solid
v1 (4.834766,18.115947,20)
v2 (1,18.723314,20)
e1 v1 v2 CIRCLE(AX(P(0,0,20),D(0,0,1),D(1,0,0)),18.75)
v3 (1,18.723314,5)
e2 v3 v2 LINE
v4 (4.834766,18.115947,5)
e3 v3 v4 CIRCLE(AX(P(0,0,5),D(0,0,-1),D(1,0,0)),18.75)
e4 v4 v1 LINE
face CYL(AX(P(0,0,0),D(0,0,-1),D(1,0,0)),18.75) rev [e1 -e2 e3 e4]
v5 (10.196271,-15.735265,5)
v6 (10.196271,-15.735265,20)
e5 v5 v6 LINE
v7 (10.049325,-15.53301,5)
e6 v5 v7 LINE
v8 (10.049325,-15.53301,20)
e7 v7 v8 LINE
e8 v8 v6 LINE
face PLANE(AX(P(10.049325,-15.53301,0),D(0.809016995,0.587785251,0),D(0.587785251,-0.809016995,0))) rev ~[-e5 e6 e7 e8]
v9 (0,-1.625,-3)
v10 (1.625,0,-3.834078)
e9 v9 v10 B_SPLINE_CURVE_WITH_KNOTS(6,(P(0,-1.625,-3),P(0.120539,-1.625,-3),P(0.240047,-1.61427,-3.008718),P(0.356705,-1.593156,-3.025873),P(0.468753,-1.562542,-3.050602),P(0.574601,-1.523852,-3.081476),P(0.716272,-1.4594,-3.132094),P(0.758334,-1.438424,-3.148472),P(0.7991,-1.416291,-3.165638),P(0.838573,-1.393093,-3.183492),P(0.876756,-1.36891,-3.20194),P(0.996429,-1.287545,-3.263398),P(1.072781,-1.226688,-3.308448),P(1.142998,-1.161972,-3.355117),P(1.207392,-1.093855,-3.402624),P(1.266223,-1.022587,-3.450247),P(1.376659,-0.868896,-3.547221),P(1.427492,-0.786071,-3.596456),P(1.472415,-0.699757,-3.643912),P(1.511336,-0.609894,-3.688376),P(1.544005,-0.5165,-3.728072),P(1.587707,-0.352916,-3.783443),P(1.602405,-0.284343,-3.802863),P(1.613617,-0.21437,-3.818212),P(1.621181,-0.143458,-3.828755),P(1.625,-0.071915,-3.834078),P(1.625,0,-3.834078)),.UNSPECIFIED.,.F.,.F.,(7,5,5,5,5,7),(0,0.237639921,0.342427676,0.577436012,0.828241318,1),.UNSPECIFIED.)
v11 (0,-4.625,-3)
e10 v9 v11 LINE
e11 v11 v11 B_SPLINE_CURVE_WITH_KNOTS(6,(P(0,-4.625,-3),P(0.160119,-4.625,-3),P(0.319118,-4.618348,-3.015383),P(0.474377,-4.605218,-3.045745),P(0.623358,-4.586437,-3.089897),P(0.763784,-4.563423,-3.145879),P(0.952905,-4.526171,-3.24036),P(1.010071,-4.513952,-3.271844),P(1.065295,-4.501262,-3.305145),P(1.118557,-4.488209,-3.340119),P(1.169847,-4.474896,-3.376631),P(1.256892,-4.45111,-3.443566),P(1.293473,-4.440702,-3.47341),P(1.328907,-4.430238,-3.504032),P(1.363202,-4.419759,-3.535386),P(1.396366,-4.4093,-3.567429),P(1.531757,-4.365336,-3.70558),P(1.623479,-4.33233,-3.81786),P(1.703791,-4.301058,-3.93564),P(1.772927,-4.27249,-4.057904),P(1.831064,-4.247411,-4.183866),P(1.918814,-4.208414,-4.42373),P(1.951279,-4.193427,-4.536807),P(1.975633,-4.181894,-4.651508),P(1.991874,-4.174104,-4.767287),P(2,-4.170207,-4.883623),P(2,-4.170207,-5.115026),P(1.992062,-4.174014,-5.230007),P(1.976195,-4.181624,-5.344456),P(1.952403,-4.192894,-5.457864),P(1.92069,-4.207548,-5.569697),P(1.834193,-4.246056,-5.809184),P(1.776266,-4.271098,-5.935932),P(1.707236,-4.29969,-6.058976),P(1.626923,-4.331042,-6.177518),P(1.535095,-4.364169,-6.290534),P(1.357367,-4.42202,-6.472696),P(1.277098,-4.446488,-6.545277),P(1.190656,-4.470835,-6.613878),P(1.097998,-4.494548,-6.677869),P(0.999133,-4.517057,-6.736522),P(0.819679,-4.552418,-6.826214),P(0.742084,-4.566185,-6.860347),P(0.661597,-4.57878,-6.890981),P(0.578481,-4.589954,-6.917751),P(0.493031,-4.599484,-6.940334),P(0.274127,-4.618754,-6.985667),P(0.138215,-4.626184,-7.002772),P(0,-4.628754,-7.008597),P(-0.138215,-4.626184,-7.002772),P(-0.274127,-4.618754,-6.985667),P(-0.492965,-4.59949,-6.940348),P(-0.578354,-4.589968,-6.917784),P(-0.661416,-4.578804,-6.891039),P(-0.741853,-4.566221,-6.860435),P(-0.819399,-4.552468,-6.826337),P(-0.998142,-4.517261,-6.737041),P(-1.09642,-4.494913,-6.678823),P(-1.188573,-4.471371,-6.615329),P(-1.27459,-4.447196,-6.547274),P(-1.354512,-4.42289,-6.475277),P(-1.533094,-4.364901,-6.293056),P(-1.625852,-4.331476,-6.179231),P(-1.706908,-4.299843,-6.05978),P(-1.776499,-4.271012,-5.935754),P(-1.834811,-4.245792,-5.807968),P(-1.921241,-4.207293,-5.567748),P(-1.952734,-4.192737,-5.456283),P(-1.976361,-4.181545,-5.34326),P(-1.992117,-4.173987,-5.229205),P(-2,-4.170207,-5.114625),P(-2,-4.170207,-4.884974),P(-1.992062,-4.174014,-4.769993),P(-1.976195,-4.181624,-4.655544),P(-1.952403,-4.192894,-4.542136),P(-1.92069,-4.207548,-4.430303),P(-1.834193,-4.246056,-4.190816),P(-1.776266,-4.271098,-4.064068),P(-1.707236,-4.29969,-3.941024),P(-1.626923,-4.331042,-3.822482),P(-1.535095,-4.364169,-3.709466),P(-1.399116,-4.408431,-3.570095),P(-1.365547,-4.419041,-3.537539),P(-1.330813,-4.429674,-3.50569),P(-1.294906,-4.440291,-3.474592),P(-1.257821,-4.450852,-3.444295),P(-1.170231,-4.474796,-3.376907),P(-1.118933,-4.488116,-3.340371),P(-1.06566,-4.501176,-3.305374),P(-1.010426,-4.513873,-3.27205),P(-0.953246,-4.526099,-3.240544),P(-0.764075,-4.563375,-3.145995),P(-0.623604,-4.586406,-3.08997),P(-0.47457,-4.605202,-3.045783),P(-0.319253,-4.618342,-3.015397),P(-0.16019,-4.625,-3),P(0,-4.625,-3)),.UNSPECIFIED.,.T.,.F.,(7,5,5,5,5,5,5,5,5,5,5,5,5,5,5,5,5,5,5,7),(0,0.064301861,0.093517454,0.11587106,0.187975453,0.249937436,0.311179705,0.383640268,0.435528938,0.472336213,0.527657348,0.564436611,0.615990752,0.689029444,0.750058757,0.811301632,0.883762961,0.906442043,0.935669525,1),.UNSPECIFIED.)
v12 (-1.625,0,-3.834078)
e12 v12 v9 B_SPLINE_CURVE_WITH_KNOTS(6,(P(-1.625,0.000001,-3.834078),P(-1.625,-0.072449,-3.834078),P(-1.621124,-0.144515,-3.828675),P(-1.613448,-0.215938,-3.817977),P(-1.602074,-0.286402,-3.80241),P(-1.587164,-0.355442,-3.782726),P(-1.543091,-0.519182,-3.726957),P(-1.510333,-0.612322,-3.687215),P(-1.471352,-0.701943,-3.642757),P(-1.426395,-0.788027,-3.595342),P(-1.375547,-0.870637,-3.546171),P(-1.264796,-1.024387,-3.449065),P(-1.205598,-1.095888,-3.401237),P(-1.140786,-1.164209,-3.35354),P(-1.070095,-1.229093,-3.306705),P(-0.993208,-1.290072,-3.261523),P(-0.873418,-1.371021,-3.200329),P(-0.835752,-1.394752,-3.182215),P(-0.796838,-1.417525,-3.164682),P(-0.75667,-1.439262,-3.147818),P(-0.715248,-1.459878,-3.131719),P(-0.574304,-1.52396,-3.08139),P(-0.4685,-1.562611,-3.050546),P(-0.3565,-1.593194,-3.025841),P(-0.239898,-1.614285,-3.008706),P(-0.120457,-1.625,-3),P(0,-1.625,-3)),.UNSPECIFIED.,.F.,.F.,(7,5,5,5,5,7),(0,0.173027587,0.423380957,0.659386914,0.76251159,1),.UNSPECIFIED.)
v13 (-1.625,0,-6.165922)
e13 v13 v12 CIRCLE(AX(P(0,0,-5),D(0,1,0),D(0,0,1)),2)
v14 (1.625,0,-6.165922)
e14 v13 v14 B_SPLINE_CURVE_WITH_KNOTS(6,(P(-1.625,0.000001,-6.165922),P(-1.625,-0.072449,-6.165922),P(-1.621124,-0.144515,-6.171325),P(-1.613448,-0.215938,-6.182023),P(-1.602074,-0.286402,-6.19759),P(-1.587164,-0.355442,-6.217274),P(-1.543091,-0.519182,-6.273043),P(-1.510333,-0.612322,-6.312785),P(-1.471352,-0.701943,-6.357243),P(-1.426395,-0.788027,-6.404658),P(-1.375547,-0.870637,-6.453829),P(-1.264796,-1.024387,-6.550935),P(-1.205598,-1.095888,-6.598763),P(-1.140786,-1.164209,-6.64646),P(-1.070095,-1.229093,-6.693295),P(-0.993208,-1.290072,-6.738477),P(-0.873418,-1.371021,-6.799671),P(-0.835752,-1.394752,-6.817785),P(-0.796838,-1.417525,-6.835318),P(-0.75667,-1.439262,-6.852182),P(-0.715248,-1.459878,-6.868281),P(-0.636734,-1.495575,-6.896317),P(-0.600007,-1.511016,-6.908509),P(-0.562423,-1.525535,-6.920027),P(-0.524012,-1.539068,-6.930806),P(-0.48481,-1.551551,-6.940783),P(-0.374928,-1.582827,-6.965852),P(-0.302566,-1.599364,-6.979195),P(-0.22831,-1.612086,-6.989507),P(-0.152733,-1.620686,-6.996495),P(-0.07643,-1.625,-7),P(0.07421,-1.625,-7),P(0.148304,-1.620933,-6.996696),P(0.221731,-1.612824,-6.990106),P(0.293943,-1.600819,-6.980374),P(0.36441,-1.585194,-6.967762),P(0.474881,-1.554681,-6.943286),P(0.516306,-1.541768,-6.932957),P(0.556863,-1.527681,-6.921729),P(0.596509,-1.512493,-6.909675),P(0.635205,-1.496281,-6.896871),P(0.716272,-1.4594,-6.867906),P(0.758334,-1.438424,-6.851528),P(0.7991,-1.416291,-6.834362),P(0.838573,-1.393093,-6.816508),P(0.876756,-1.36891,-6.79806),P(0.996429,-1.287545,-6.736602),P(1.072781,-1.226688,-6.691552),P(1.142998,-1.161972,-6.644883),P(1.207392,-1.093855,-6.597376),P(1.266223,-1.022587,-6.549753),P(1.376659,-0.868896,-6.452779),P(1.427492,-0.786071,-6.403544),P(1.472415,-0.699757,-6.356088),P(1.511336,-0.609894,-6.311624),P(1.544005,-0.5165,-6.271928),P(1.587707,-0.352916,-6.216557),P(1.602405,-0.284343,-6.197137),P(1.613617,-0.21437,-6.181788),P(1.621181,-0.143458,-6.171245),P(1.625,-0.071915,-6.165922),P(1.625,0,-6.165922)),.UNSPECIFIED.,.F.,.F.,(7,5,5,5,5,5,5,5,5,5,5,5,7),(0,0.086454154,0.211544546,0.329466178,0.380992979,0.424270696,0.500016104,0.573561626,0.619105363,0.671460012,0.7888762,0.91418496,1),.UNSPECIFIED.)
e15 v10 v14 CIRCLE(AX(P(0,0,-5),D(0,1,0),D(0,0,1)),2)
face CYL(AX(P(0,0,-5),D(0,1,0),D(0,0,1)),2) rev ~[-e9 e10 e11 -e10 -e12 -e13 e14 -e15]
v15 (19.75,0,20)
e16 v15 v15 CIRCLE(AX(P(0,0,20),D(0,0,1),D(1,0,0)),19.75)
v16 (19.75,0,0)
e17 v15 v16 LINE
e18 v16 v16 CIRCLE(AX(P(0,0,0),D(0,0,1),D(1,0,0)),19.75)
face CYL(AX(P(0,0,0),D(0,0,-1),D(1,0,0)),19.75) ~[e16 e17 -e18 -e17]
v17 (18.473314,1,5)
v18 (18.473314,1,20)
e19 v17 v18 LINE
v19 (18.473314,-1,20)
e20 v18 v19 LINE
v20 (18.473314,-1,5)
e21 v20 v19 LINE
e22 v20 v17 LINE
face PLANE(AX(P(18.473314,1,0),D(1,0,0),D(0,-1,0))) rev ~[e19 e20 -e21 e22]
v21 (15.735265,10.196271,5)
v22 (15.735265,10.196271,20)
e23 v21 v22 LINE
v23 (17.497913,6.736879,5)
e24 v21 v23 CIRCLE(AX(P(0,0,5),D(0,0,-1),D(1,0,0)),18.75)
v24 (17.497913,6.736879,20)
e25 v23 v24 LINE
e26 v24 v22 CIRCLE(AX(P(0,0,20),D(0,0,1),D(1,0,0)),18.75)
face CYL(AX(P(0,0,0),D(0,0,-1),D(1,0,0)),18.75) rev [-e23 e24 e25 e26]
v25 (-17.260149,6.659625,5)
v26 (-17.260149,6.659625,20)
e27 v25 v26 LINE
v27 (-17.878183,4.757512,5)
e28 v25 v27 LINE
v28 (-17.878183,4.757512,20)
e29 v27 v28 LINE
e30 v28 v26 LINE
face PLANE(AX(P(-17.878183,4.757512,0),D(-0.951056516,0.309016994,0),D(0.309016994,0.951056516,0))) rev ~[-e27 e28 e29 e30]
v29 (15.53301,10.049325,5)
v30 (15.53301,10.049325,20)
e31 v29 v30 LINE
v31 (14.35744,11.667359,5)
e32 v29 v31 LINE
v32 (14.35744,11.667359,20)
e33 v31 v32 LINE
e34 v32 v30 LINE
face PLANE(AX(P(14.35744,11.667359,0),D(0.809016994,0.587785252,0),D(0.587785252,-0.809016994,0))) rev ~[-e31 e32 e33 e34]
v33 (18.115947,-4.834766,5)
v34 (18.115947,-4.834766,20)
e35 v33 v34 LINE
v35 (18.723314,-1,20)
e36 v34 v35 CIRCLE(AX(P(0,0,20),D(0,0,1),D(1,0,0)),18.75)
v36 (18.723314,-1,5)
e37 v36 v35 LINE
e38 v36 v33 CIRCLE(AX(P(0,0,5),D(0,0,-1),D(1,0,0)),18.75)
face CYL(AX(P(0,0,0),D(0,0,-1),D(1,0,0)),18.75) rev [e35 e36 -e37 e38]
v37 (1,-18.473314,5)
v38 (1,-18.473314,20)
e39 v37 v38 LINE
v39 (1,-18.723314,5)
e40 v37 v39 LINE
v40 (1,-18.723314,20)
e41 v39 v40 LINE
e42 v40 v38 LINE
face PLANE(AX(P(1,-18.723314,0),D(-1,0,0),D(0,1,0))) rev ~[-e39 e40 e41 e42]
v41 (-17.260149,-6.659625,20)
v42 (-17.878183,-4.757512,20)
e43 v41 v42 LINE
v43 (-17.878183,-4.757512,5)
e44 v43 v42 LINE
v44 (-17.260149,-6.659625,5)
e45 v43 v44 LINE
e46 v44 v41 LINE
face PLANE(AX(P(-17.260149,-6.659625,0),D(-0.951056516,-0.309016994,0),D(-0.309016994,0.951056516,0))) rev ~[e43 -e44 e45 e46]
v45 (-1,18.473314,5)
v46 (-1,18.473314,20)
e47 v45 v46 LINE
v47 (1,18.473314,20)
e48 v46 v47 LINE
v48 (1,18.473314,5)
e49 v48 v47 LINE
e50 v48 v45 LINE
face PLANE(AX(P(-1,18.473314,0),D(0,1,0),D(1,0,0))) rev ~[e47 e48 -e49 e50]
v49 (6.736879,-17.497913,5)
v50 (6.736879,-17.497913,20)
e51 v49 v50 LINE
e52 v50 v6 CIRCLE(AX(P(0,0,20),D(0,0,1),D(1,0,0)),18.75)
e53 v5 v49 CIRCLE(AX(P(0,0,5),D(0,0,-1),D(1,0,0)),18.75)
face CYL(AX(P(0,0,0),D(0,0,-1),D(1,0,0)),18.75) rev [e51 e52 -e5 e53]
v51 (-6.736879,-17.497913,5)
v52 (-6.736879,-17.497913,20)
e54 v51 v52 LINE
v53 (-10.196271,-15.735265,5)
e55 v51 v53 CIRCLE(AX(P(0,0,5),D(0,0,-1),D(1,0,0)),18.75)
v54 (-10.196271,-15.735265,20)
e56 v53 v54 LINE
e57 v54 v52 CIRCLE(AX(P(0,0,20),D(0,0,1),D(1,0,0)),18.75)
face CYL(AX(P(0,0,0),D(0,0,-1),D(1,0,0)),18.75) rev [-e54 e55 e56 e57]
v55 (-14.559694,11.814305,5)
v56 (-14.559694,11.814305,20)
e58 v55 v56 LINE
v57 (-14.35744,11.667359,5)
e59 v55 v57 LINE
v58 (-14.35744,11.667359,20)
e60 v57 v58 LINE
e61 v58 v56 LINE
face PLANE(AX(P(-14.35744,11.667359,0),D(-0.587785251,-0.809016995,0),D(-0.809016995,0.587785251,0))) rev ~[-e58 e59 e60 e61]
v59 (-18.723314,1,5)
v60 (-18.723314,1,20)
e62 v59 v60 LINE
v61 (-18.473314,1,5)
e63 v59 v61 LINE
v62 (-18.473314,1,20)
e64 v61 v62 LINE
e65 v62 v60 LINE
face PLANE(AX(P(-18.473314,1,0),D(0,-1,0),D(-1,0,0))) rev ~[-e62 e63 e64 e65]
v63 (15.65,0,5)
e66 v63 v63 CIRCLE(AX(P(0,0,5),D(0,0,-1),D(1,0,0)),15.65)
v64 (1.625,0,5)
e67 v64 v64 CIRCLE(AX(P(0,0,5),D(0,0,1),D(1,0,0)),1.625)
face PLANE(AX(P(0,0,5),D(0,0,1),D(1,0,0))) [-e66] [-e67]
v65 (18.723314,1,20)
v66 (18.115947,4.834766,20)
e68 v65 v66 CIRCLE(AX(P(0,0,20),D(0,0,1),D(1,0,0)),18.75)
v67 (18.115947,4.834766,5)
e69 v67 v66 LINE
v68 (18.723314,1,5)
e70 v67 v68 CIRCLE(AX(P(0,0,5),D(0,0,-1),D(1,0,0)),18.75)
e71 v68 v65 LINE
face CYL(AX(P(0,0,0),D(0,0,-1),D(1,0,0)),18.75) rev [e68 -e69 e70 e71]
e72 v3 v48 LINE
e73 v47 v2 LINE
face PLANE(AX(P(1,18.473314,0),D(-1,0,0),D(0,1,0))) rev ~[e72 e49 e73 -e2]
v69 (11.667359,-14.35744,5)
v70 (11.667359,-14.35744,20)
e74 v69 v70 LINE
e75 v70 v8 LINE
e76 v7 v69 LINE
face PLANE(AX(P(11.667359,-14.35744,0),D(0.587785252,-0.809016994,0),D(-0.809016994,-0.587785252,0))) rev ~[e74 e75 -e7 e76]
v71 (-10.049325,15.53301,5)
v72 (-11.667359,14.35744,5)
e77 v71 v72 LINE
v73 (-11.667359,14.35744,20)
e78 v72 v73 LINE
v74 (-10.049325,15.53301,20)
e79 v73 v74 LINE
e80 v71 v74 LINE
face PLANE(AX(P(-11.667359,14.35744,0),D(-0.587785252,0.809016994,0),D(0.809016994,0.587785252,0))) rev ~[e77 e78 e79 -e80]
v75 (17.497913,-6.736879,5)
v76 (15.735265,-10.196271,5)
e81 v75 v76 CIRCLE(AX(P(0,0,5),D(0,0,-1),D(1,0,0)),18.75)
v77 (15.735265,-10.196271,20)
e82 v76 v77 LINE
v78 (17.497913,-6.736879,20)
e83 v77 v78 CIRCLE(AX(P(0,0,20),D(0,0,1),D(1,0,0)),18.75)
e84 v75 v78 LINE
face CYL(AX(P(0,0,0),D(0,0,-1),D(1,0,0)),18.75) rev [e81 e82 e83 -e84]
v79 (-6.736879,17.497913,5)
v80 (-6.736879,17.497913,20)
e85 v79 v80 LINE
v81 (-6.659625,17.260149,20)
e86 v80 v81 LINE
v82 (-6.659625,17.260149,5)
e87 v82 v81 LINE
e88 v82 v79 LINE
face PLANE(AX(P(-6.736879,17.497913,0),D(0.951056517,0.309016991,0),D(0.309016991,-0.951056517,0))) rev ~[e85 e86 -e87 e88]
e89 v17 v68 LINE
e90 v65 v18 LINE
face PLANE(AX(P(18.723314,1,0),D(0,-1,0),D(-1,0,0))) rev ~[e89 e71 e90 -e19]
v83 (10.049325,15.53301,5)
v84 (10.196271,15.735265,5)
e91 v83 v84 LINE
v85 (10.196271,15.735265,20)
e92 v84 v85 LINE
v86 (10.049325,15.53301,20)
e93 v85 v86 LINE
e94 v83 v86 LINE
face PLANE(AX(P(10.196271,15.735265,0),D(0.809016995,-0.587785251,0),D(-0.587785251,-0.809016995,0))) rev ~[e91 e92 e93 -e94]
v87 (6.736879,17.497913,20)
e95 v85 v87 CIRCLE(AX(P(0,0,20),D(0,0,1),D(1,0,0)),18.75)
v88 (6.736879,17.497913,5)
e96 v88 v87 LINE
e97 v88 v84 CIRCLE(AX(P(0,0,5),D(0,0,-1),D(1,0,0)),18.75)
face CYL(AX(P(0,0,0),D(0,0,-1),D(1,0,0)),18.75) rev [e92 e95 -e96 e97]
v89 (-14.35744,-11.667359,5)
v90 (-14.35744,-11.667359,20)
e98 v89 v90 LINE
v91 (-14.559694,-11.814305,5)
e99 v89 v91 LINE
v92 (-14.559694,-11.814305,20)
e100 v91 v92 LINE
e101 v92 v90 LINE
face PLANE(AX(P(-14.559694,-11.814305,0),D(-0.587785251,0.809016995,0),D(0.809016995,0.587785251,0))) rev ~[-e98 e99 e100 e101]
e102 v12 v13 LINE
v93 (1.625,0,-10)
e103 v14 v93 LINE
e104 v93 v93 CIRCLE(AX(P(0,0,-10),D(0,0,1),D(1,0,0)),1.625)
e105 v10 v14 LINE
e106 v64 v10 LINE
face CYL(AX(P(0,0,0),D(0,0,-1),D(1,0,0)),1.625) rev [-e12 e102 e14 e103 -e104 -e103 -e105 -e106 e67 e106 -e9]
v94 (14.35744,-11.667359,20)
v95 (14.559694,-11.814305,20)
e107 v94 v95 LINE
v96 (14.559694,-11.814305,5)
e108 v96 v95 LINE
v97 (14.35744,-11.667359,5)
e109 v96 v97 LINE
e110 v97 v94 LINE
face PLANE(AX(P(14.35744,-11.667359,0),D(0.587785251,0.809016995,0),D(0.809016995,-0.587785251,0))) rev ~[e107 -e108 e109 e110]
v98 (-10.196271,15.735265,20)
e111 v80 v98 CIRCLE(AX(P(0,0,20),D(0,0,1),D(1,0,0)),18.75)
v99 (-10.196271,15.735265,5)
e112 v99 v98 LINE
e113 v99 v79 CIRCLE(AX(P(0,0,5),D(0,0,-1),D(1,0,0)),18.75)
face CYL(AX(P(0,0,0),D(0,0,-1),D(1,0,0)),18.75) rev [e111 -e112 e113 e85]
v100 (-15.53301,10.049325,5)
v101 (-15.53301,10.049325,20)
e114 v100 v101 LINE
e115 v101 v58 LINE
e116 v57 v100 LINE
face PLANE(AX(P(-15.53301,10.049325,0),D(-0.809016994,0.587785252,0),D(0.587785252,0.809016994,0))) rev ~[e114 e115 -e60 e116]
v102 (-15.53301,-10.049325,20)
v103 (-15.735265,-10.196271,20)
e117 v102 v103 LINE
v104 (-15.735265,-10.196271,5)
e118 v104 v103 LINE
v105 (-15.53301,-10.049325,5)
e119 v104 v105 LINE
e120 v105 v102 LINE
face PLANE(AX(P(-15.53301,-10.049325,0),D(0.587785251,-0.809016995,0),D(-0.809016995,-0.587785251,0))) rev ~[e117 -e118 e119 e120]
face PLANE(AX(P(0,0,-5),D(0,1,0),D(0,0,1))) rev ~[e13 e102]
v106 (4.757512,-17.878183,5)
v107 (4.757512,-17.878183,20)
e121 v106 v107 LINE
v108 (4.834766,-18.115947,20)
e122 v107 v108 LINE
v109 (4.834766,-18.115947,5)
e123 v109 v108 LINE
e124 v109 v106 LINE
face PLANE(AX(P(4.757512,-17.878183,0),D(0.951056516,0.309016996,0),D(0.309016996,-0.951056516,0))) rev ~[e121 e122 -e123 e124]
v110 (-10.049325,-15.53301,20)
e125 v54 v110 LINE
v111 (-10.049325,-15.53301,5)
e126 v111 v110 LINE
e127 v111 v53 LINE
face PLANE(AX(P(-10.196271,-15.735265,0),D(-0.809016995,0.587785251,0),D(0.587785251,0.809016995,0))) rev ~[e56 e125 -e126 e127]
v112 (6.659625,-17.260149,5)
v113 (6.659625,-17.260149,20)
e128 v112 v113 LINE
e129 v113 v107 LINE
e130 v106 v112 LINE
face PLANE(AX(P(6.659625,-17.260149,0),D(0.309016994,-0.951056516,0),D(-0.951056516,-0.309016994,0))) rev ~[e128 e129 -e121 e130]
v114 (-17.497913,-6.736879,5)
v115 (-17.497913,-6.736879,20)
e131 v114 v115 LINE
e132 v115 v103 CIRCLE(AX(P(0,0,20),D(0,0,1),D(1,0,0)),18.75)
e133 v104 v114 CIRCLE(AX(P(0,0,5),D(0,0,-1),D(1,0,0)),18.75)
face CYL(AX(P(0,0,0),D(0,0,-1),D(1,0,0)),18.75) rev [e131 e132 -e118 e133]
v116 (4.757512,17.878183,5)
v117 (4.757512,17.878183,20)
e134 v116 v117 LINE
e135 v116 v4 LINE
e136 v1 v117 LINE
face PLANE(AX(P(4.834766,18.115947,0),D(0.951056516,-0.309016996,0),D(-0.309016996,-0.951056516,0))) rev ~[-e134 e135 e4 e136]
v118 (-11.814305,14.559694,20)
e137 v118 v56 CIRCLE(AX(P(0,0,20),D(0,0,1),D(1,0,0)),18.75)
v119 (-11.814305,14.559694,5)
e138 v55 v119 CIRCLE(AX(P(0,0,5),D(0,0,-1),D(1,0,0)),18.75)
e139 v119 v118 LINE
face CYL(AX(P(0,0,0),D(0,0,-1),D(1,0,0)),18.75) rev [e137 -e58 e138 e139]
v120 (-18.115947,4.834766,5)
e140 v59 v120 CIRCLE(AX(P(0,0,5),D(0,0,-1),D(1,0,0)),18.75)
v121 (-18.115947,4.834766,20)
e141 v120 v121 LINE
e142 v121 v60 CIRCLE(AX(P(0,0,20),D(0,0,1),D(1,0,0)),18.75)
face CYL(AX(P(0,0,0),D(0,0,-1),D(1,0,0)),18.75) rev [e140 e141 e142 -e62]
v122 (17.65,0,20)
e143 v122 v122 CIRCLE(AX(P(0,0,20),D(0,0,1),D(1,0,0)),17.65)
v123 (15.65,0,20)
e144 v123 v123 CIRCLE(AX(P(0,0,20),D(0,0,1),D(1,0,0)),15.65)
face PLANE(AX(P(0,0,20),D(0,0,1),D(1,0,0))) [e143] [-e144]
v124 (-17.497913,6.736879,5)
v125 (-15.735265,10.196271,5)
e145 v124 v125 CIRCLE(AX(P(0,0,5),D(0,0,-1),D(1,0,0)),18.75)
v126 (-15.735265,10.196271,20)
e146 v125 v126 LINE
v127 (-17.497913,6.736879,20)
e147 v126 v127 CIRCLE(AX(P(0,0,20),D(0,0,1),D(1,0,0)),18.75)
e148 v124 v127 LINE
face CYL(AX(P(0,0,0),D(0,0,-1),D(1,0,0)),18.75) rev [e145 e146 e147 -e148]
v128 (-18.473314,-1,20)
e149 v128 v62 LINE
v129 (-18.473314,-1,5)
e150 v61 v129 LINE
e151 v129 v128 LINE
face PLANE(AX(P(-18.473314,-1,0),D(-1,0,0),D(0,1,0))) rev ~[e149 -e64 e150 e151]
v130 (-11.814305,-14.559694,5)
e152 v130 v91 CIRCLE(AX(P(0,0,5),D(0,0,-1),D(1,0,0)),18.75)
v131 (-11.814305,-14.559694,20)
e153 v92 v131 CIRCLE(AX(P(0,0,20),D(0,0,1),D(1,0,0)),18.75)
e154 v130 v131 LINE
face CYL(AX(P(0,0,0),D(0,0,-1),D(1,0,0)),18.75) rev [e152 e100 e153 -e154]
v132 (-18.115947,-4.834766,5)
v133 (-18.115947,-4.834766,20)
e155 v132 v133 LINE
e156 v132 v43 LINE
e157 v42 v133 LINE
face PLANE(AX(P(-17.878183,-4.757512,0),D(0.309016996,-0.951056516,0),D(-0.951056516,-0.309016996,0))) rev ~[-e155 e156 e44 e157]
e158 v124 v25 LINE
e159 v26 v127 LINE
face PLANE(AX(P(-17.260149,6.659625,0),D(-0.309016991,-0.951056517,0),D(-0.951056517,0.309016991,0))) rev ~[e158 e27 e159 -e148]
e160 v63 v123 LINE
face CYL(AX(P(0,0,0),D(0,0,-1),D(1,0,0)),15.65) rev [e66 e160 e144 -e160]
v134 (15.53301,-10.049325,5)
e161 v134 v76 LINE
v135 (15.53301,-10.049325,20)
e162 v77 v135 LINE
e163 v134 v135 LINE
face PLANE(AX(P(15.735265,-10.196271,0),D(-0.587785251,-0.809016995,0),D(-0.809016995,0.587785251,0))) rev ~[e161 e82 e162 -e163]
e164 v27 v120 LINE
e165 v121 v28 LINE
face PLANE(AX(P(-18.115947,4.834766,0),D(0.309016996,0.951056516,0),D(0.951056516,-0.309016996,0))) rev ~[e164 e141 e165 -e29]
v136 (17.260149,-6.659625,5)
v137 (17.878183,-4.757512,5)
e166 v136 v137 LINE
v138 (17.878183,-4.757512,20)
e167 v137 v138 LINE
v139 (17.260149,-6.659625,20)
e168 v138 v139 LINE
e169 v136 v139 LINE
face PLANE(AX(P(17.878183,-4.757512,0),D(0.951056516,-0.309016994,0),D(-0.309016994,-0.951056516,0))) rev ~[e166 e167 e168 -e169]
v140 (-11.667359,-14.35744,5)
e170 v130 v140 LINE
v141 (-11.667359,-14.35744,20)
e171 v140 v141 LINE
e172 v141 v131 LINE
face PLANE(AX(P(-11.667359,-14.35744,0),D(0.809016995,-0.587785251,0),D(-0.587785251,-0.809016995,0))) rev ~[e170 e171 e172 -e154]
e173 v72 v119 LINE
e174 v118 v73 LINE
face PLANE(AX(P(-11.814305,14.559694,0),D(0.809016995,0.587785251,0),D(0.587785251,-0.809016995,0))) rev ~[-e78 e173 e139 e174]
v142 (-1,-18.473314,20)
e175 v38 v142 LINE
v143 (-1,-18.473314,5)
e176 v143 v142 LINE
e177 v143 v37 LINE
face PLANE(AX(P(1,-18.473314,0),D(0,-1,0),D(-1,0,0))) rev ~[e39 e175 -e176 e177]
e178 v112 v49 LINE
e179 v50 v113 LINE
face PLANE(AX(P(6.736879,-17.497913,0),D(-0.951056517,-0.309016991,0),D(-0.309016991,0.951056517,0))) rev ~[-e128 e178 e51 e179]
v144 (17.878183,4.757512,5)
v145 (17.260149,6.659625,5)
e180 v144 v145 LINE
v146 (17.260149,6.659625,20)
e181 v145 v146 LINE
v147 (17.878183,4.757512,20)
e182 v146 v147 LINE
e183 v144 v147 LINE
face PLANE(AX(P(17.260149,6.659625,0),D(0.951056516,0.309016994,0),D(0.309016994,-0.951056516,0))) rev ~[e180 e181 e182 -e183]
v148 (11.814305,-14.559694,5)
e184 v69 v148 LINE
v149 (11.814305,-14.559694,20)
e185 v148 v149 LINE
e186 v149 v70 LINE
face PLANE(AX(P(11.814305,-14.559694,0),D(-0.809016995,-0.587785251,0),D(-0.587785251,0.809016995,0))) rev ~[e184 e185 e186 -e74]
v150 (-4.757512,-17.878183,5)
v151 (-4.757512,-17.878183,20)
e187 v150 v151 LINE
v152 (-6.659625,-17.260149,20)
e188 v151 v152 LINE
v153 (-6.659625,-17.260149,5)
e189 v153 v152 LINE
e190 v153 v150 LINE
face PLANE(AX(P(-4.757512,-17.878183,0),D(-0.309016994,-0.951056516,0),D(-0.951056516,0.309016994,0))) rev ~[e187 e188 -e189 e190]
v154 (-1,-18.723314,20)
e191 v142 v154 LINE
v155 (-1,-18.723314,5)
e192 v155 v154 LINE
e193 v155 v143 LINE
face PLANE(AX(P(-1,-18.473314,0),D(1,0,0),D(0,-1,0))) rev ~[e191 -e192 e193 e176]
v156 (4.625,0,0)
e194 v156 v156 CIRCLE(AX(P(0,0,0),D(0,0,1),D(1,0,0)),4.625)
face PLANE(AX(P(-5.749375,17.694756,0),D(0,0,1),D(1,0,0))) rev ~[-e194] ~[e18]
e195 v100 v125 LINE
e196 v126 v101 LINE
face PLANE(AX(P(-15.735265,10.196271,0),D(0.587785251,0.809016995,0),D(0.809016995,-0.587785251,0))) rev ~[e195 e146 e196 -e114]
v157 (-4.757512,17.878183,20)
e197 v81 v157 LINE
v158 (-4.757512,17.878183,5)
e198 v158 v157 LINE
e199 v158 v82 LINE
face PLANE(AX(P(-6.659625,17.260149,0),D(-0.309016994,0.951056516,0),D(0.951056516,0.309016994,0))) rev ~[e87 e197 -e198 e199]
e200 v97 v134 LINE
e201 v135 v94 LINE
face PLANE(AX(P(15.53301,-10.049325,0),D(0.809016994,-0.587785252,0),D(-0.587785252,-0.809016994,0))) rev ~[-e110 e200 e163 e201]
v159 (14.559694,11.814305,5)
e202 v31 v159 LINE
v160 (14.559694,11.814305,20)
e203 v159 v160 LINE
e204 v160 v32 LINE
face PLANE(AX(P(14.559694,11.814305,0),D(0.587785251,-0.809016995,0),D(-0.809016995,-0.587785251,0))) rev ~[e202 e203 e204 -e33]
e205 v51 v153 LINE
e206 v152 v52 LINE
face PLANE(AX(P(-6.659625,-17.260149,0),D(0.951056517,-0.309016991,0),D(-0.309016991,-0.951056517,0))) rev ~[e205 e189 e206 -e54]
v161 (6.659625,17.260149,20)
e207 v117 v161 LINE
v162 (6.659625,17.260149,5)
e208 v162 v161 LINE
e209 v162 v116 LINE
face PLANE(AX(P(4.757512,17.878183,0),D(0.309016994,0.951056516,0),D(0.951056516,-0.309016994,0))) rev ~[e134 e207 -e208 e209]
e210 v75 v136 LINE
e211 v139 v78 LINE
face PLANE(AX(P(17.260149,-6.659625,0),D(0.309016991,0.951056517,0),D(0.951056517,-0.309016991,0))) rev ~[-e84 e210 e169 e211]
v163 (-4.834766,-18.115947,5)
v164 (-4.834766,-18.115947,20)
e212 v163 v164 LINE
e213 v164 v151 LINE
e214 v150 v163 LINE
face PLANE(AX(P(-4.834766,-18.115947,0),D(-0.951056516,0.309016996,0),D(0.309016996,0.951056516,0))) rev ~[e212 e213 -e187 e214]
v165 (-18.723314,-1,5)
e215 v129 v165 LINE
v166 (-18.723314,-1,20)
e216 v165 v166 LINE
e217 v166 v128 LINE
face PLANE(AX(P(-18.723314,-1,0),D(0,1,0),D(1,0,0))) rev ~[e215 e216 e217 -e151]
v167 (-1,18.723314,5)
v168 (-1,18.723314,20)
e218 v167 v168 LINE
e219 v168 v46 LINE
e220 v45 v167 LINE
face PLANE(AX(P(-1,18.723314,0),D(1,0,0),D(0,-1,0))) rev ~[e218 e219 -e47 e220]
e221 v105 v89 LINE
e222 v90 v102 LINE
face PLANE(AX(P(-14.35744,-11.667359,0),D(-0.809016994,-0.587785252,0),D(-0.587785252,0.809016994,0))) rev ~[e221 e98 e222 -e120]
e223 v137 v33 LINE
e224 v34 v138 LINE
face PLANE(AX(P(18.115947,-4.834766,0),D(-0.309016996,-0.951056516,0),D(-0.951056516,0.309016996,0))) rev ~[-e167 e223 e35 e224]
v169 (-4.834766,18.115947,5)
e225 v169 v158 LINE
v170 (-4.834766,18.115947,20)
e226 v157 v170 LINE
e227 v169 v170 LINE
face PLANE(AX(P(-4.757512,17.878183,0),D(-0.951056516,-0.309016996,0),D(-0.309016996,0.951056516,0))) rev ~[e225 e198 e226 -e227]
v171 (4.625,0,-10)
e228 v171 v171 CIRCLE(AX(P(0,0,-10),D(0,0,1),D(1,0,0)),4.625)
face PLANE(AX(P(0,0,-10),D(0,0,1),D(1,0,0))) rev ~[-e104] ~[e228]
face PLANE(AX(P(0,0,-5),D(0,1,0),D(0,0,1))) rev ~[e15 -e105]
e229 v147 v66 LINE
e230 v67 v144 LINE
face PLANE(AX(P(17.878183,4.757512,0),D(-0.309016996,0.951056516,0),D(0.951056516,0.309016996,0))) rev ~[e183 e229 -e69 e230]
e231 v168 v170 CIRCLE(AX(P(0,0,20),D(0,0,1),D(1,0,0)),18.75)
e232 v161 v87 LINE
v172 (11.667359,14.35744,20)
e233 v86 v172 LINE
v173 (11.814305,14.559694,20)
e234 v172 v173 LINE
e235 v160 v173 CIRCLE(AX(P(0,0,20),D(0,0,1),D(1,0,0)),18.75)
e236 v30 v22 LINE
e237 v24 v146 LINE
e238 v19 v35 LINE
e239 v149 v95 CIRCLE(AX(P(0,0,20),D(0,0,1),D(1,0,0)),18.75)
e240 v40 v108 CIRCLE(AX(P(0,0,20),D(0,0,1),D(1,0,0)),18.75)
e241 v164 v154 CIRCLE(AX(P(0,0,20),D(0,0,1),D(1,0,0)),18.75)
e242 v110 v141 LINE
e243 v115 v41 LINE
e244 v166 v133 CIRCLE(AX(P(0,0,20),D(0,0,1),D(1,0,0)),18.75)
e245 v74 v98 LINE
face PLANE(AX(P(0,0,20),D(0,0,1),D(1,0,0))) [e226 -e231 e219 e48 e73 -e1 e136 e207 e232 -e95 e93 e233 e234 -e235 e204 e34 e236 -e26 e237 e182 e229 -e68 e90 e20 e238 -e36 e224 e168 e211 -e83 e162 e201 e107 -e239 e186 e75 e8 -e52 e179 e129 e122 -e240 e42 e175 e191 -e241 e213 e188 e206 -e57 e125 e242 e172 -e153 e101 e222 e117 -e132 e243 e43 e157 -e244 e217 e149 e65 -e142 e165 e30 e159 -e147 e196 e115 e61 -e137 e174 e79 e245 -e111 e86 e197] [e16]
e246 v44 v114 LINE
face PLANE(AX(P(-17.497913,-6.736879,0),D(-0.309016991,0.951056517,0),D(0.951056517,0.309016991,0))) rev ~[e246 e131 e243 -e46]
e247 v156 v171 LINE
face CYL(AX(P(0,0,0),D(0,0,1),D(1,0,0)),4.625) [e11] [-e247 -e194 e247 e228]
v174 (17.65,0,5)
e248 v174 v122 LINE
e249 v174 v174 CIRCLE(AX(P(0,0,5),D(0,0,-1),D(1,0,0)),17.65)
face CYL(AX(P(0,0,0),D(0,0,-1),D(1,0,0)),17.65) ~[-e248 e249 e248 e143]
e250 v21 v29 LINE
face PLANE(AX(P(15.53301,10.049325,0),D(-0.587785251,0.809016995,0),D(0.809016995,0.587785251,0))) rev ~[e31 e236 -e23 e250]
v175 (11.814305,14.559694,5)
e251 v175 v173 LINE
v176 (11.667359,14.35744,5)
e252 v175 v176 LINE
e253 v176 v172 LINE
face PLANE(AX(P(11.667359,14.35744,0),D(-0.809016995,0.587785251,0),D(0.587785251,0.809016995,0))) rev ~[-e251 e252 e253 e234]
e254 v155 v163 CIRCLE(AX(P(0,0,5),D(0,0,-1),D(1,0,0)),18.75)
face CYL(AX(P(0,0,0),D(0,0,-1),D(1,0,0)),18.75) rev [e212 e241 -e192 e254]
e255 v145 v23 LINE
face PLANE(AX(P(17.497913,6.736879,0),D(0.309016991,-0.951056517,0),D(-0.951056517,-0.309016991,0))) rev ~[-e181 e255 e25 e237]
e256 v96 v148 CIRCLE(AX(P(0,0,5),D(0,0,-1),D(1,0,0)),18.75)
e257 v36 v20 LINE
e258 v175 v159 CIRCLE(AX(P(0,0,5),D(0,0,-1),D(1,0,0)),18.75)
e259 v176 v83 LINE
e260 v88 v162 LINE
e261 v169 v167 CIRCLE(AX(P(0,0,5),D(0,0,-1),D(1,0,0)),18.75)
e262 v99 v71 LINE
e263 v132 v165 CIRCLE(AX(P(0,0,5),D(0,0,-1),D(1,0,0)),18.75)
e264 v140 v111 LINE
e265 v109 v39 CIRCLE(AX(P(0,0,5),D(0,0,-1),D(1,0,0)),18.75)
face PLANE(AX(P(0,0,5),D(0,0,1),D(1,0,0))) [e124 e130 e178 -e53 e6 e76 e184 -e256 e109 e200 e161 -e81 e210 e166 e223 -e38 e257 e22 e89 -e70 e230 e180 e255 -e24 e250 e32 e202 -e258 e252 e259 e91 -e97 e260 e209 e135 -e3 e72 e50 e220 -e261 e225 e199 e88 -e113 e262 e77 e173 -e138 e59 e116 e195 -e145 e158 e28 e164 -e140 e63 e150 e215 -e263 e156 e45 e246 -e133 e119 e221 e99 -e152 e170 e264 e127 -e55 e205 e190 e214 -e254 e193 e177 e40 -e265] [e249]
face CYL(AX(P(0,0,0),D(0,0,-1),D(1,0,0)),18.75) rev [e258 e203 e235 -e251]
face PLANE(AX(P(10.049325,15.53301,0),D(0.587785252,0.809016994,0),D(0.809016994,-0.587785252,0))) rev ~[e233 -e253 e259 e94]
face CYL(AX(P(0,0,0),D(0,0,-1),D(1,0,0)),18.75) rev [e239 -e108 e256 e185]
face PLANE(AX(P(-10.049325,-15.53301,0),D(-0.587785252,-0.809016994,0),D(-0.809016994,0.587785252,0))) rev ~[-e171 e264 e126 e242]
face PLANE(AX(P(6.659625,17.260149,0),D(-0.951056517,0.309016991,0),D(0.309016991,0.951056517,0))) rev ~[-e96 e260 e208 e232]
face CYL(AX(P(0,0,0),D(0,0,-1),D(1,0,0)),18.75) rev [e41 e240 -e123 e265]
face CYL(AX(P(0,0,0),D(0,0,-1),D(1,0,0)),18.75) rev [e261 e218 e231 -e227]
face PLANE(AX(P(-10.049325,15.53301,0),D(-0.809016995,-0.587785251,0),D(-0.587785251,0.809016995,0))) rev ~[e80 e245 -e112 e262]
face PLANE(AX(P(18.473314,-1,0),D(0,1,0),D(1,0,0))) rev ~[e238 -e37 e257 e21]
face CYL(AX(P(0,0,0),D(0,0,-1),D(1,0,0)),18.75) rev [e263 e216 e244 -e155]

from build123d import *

# Parameters (mm, degrees)
SKETCH1_R           = 4.625
SKETCH1_R_2         = 1.625
BOSS_EXTRUDE1_DEPTH = 10
SKETCH1_3_R         = 19.75
SKETCH1_3_R_2       = 18.75
SKETCH1_3_R_3       = 17.65
SKETCH1_3_R_4       = 4.625
SKETCH1_3_R_5       = 15.65
SKETCH1_3_R_6       = 1.625
BOSS_EXTRUDE2_DEPTH = 5
SKETCH1_4_R         = 19.75
SKETCH1_4_R_2       = 18.75
SKETCH1_4_R_3       = 17.65
SKETCH1_4_R_4       = 15.65
BOSS_EXTRUDE3_DEPTH = 20
BOSS_EXTRUDE4_DEPTH = 20
SKETCH3_R           = 2
CUT_EXTRUDE1_DEPTH  = 35.352947472


with BuildPart() as part:
    # Sketch1 → Boss-Extrude1 (new body)
    with BuildSketch(Plane.XY):
        Circle(SKETCH1_R)
        Circle(SKETCH1_R_2, mode=Mode.SUBTRACT)
    extrude(amount=-BOSS_EXTRUDE1_DEPTH)



with BuildPart() as body_2:
    # Sketch1<3> → Boss-Extrude2 (new body)
    with BuildSketch(Plane.XY):
        Circle(SKETCH1_3_R)
        Circle(SKETCH1_3_R_2, mode=Mode.SUBTRACT)
        Circle(SKETCH1_3_R_2)
        Circle(SKETCH1_3_R_3, mode=Mode.SUBTRACT)
        Circle(SKETCH1_3_R_3)
        Circle(SKETCH1_3_R_4, mode=Mode.SUBTRACT)
        Circle(SKETCH1_3_R_5)
        Circle(SKETCH1_3_R_4, mode=Mode.SUBTRACT)
        Circle(SKETCH1_3_R_4)
        Circle(SKETCH1_3_R_6, mode=Mode.SUBTRACT)
    extrude(amount=BOSS_EXTRUDE2_DEPTH)


with BuildPart() as part_1:
    add(part.part)

    add(body_2.part)  # Boss-Extrude3 merges body 2
    # Sketch1<4> → Boss-Extrude3 (add)
    with BuildSketch(Plane.XY):
        Circle(SKETCH1_4_R)
        Circle(SKETCH1_4_R_2, mode=Mode.SUBTRACT)
        Circle(SKETCH1_4_R_3)
        Circle(SKETCH1_4_R_4, mode=Mode.SUBTRACT)
    extrude(amount=BOSS_EXTRUDE3_DEPTH)

    # Sketch2 → Boss-Extrude4 (add)
    with BuildSketch(Plane.XY):
        with BuildLine():
            Line((-4.757511558, 17.878182978), (-4.834765807, 18.115947107))
            ThreePointArc((-4.834765807, 18.115947107), (-5.794068645, 17.832309681), (-6.736878839, 17.497913119))
            Line((-6.736878839, 17.497913119), (-6.659624591, 17.260148989))
            Line((-6.659624591, 17.260148989), (-4.757511558, 17.878182978))
        make_face()
        with BuildLine():
            Line((-10.049324738, 15.533010498), (-10.196271051, 15.735264747))
            ThreePointArc((-10.196271051, 15.735264747), (-11.02097348, 15.169068645), (-11.814305039, 14.559694243))
            Line((-11.814305039, 14.559694243), (-11.667358726, 14.357439994))
            Line((-11.667358726, 14.357439994), (-10.049324738, 15.533010498))
        make_face()
        with BuildLine():
            Line((1, 18.473314343), (1, 18.723314343))
            ThreePointArc((1, 18.723314343), (0, 18.75), (-1, 18.723314343))
            Line((-1, 18.723314343), (-1, 18.473314343))
            Line((-1, 18.473314343), (1, 18.473314343))
        make_face()
        with BuildLine():
            Line((4.834765807, 18.115947107), (4.757511558, 17.878182978))
            Line((4.757511558, 17.878182978), (6.659624591, 17.260148989))
            Line((6.659624591, 17.260148989), (6.736878839, 17.497913119))
            ThreePointArc((6.736878839, 17.497913119), (5.794068645, 17.832309681), (4.834765807, 18.115947107))
        make_face()
        with BuildLine():
            ThreePointArc((11.814305039, 14.559694243), (11.02097348, 15.169068645), (10.196271051, 15.735264747))
            Line((10.196271051, 15.735264747), (10.049324738, 15.533010498))
            Line((10.049324738, 15.533010498), (11.667358726, 14.357439994))
            Line((11.667358726, 14.357439994), (11.814305039, 14.559694243))
        make_face()
        with BuildLine():
            ThreePointArc((15.735264747, 10.196271051), (15.169068645, 11.02097348), (14.559694243, 11.814305039))
            Line((14.559694243, 11.814305039), (14.357439994, 11.667358726))
            Line((14.357439994, 11.667358726), (15.533010498, 10.049324738))
            Line((15.533010498, 10.049324738), (15.735264747, 10.196271051))
        make_face()
        with BuildLine():
            ThreePointArc((18.115947107, 4.834765807), (17.832309681, 5.794068645), (17.497913119, 6.736878839))
            Line((17.497913119, 6.736878839), (17.260148989, 6.659624591))
            Line((17.260148989, 6.659624591), (17.878182978, 4.757511558))
            Line((17.878182978, 4.757511558), (18.115947107, 4.834765807))
        make_face()
        with BuildLine():
            ThreePointArc((18.75, 0), (18.743327399, 0.500177999), (18.723314343, 1))
            Line((18.723314343, 1), (18.473314343, 1))
            Line((18.473314343, 1), (18.473314343, -1))
            Line((18.473314343, -1), (18.723314343, -1))
            ThreePointArc((18.723314343, -1), (18.743327399, -0.500177999), (18.75, 0))
        make_face()
        with BuildLine():
            ThreePointArc((17.497913119, -6.736878839), (17.832309681, -5.794068645), (18.115947107, -4.834765807))
            Line((18.115947107, -4.834765807), (17.878182978, -4.757511558))
            Line((17.878182978, -4.757511558), (17.260148989, -6.659624591))
            Line((17.260148989, -6.659624591), (17.497913119, -6.736878839))
        make_face()
        with BuildLine():
            ThreePointArc((14.559694243, -11.814305039), (15.169068645, -11.02097348), (15.735264747, -10.196271051))
            Line((15.735264747, -10.196271051), (15.533010498, -10.049324738))
            Line((15.533010498, -10.049324738), (14.357439994, -11.667358726))
            Line((14.357439994, -11.667358726), (14.559694243, -11.814305039))
        make_face()
        with BuildLine():
            ThreePointArc((10.196271051, -15.735264747), (11.02097348, -15.169068645), (11.814305039, -14.559694243))
            Line((11.814305039, -14.559694243), (11.667358726, -14.357439994))
            Line((11.667358726, -14.357439994), (10.049324738, -15.533010498))
            Line((10.049324738, -15.533010498), (10.196271051, -15.735264747))
        make_face()
        with BuildLine():
            ThreePointArc((4.834765807, -18.115947107), (5.794068645, -17.832309681), (6.736878839, -17.497913119))
            Line((6.736878839, -17.497913119), (6.659624591, -17.260148989))
            Line((6.659624591, -17.260148989), (4.757511558, -17.878182978))
            Line((4.757511558, -17.878182978), (4.834765807, -18.115947107))
        make_face()
        with BuildLine():
            ThreePointArc((-1, -18.723314343), (0, -18.75), (1, -18.723314343))
            Line((1, -18.723314343), (1, -18.473314343))
            Line((1, -18.473314343), (-1, -18.473314343))
            Line((-1, -18.473314343), (-1, -18.723314343))
        make_face()
        with BuildLine():
            Line((-6.659624591, -17.260148989), (-6.736878839, -17.497913119))
            ThreePointArc((-6.736878839, -17.497913119), (-5.794068645, -17.832309681), (-4.834765807, -18.115947107))
            Line((-4.834765807, -18.115947107), (-4.757511558, -17.878182978))
            Line((-4.757511558, -17.878182978), (-6.659624591, -17.260148989))
        make_face()
        with BuildLine():
            Line((-11.667358726, -14.357439994), (-11.814305039, -14.559694243))
            ThreePointArc((-11.814305039, -14.559694243), (-11.02097348, -15.169068645), (-10.196271051, -15.735264747))
            Line((-10.196271051, -15.735264747), (-10.049324738, -15.533010498))
            Line((-10.049324738, -15.533010498), (-11.667358726, -14.357439994))
        make_face()
        with BuildLine():
            Line((-15.533010498, -10.049324738), (-15.735264747, -10.196271051))
            ThreePointArc((-15.735264747, -10.196271051), (-15.169068645, -11.02097348), (-14.559694243, -11.814305039))
            Line((-14.559694243, -11.814305039), (-14.357439994, -11.667358726))
            Line((-14.357439994, -11.667358726), (-15.533010498, -10.049324738))
        make_face()
        with BuildLine():
            Line((-17.878182978, -4.757511558), (-18.115947107, -4.834765807))
            ThreePointArc((-18.115947107, -4.834765807), (-17.832309681, -5.794068645), (-17.497913119, -6.736878839))
            Line((-17.497913119, -6.736878839), (-17.260148989, -6.659624591))
            Line((-17.260148989, -6.659624591), (-17.878182978, -4.757511558))
        make_face()
        with BuildLine():
            Line((-18.473314343, 1), (-18.723314343, 1))
            ThreePointArc((-18.723314343, 1), (-18.75, 0), (-18.723314343, -1))
            Line((-18.723314343, -1), (-18.473314343, -1))
            Line((-18.473314343, -1), (-18.473314343, 1))
        make_face()
        with BuildLine():
            Line((-14.357439994, 11.667358726), (-14.559694243, 11.814305039))
            ThreePointArc((-14.559694243, 11.814305039), (-15.169068645, 11.02097348), (-15.735264747, 10.196271051))
            Line((-15.735264747, 10.196271051), (-15.533010498, 10.049324738))
            Line((-15.533010498, 10.049324738), (-14.357439994, 11.667358726))
        make_face()
        with BuildLine():
            Line((-17.260148989, 6.659624591), (-17.497913119, 6.736878839))
            ThreePointArc((-17.497913119, 6.736878839), (-17.832309681, 5.794068645), (-18.115947107, 4.834765807))
            Line((-18.115947107, 4.834765807), (-17.878182978, 4.757511558))
            Line((-17.878182978, 4.757511558), (-17.260148989, 6.659624591))
        make_face()
    extrude(amount=BOSS_EXTRUDE4_DEPTH)

    # Sketch3 → Cut-Extrude1 (cut, through all)
    with BuildSketch(Plane(origin=(0, 0, 0), x_dir=(1, 0, 0), z_dir=(0, 1, 0))):
        with Locations(Location((0, 5, 0), (0, 0, 270))):
            Circle(SKETCH3_R)
    extrude(amount=-CUT_EXTRUDE1_DEPTH, mode=Mode.SUBTRACT)


solid = part_1.part
